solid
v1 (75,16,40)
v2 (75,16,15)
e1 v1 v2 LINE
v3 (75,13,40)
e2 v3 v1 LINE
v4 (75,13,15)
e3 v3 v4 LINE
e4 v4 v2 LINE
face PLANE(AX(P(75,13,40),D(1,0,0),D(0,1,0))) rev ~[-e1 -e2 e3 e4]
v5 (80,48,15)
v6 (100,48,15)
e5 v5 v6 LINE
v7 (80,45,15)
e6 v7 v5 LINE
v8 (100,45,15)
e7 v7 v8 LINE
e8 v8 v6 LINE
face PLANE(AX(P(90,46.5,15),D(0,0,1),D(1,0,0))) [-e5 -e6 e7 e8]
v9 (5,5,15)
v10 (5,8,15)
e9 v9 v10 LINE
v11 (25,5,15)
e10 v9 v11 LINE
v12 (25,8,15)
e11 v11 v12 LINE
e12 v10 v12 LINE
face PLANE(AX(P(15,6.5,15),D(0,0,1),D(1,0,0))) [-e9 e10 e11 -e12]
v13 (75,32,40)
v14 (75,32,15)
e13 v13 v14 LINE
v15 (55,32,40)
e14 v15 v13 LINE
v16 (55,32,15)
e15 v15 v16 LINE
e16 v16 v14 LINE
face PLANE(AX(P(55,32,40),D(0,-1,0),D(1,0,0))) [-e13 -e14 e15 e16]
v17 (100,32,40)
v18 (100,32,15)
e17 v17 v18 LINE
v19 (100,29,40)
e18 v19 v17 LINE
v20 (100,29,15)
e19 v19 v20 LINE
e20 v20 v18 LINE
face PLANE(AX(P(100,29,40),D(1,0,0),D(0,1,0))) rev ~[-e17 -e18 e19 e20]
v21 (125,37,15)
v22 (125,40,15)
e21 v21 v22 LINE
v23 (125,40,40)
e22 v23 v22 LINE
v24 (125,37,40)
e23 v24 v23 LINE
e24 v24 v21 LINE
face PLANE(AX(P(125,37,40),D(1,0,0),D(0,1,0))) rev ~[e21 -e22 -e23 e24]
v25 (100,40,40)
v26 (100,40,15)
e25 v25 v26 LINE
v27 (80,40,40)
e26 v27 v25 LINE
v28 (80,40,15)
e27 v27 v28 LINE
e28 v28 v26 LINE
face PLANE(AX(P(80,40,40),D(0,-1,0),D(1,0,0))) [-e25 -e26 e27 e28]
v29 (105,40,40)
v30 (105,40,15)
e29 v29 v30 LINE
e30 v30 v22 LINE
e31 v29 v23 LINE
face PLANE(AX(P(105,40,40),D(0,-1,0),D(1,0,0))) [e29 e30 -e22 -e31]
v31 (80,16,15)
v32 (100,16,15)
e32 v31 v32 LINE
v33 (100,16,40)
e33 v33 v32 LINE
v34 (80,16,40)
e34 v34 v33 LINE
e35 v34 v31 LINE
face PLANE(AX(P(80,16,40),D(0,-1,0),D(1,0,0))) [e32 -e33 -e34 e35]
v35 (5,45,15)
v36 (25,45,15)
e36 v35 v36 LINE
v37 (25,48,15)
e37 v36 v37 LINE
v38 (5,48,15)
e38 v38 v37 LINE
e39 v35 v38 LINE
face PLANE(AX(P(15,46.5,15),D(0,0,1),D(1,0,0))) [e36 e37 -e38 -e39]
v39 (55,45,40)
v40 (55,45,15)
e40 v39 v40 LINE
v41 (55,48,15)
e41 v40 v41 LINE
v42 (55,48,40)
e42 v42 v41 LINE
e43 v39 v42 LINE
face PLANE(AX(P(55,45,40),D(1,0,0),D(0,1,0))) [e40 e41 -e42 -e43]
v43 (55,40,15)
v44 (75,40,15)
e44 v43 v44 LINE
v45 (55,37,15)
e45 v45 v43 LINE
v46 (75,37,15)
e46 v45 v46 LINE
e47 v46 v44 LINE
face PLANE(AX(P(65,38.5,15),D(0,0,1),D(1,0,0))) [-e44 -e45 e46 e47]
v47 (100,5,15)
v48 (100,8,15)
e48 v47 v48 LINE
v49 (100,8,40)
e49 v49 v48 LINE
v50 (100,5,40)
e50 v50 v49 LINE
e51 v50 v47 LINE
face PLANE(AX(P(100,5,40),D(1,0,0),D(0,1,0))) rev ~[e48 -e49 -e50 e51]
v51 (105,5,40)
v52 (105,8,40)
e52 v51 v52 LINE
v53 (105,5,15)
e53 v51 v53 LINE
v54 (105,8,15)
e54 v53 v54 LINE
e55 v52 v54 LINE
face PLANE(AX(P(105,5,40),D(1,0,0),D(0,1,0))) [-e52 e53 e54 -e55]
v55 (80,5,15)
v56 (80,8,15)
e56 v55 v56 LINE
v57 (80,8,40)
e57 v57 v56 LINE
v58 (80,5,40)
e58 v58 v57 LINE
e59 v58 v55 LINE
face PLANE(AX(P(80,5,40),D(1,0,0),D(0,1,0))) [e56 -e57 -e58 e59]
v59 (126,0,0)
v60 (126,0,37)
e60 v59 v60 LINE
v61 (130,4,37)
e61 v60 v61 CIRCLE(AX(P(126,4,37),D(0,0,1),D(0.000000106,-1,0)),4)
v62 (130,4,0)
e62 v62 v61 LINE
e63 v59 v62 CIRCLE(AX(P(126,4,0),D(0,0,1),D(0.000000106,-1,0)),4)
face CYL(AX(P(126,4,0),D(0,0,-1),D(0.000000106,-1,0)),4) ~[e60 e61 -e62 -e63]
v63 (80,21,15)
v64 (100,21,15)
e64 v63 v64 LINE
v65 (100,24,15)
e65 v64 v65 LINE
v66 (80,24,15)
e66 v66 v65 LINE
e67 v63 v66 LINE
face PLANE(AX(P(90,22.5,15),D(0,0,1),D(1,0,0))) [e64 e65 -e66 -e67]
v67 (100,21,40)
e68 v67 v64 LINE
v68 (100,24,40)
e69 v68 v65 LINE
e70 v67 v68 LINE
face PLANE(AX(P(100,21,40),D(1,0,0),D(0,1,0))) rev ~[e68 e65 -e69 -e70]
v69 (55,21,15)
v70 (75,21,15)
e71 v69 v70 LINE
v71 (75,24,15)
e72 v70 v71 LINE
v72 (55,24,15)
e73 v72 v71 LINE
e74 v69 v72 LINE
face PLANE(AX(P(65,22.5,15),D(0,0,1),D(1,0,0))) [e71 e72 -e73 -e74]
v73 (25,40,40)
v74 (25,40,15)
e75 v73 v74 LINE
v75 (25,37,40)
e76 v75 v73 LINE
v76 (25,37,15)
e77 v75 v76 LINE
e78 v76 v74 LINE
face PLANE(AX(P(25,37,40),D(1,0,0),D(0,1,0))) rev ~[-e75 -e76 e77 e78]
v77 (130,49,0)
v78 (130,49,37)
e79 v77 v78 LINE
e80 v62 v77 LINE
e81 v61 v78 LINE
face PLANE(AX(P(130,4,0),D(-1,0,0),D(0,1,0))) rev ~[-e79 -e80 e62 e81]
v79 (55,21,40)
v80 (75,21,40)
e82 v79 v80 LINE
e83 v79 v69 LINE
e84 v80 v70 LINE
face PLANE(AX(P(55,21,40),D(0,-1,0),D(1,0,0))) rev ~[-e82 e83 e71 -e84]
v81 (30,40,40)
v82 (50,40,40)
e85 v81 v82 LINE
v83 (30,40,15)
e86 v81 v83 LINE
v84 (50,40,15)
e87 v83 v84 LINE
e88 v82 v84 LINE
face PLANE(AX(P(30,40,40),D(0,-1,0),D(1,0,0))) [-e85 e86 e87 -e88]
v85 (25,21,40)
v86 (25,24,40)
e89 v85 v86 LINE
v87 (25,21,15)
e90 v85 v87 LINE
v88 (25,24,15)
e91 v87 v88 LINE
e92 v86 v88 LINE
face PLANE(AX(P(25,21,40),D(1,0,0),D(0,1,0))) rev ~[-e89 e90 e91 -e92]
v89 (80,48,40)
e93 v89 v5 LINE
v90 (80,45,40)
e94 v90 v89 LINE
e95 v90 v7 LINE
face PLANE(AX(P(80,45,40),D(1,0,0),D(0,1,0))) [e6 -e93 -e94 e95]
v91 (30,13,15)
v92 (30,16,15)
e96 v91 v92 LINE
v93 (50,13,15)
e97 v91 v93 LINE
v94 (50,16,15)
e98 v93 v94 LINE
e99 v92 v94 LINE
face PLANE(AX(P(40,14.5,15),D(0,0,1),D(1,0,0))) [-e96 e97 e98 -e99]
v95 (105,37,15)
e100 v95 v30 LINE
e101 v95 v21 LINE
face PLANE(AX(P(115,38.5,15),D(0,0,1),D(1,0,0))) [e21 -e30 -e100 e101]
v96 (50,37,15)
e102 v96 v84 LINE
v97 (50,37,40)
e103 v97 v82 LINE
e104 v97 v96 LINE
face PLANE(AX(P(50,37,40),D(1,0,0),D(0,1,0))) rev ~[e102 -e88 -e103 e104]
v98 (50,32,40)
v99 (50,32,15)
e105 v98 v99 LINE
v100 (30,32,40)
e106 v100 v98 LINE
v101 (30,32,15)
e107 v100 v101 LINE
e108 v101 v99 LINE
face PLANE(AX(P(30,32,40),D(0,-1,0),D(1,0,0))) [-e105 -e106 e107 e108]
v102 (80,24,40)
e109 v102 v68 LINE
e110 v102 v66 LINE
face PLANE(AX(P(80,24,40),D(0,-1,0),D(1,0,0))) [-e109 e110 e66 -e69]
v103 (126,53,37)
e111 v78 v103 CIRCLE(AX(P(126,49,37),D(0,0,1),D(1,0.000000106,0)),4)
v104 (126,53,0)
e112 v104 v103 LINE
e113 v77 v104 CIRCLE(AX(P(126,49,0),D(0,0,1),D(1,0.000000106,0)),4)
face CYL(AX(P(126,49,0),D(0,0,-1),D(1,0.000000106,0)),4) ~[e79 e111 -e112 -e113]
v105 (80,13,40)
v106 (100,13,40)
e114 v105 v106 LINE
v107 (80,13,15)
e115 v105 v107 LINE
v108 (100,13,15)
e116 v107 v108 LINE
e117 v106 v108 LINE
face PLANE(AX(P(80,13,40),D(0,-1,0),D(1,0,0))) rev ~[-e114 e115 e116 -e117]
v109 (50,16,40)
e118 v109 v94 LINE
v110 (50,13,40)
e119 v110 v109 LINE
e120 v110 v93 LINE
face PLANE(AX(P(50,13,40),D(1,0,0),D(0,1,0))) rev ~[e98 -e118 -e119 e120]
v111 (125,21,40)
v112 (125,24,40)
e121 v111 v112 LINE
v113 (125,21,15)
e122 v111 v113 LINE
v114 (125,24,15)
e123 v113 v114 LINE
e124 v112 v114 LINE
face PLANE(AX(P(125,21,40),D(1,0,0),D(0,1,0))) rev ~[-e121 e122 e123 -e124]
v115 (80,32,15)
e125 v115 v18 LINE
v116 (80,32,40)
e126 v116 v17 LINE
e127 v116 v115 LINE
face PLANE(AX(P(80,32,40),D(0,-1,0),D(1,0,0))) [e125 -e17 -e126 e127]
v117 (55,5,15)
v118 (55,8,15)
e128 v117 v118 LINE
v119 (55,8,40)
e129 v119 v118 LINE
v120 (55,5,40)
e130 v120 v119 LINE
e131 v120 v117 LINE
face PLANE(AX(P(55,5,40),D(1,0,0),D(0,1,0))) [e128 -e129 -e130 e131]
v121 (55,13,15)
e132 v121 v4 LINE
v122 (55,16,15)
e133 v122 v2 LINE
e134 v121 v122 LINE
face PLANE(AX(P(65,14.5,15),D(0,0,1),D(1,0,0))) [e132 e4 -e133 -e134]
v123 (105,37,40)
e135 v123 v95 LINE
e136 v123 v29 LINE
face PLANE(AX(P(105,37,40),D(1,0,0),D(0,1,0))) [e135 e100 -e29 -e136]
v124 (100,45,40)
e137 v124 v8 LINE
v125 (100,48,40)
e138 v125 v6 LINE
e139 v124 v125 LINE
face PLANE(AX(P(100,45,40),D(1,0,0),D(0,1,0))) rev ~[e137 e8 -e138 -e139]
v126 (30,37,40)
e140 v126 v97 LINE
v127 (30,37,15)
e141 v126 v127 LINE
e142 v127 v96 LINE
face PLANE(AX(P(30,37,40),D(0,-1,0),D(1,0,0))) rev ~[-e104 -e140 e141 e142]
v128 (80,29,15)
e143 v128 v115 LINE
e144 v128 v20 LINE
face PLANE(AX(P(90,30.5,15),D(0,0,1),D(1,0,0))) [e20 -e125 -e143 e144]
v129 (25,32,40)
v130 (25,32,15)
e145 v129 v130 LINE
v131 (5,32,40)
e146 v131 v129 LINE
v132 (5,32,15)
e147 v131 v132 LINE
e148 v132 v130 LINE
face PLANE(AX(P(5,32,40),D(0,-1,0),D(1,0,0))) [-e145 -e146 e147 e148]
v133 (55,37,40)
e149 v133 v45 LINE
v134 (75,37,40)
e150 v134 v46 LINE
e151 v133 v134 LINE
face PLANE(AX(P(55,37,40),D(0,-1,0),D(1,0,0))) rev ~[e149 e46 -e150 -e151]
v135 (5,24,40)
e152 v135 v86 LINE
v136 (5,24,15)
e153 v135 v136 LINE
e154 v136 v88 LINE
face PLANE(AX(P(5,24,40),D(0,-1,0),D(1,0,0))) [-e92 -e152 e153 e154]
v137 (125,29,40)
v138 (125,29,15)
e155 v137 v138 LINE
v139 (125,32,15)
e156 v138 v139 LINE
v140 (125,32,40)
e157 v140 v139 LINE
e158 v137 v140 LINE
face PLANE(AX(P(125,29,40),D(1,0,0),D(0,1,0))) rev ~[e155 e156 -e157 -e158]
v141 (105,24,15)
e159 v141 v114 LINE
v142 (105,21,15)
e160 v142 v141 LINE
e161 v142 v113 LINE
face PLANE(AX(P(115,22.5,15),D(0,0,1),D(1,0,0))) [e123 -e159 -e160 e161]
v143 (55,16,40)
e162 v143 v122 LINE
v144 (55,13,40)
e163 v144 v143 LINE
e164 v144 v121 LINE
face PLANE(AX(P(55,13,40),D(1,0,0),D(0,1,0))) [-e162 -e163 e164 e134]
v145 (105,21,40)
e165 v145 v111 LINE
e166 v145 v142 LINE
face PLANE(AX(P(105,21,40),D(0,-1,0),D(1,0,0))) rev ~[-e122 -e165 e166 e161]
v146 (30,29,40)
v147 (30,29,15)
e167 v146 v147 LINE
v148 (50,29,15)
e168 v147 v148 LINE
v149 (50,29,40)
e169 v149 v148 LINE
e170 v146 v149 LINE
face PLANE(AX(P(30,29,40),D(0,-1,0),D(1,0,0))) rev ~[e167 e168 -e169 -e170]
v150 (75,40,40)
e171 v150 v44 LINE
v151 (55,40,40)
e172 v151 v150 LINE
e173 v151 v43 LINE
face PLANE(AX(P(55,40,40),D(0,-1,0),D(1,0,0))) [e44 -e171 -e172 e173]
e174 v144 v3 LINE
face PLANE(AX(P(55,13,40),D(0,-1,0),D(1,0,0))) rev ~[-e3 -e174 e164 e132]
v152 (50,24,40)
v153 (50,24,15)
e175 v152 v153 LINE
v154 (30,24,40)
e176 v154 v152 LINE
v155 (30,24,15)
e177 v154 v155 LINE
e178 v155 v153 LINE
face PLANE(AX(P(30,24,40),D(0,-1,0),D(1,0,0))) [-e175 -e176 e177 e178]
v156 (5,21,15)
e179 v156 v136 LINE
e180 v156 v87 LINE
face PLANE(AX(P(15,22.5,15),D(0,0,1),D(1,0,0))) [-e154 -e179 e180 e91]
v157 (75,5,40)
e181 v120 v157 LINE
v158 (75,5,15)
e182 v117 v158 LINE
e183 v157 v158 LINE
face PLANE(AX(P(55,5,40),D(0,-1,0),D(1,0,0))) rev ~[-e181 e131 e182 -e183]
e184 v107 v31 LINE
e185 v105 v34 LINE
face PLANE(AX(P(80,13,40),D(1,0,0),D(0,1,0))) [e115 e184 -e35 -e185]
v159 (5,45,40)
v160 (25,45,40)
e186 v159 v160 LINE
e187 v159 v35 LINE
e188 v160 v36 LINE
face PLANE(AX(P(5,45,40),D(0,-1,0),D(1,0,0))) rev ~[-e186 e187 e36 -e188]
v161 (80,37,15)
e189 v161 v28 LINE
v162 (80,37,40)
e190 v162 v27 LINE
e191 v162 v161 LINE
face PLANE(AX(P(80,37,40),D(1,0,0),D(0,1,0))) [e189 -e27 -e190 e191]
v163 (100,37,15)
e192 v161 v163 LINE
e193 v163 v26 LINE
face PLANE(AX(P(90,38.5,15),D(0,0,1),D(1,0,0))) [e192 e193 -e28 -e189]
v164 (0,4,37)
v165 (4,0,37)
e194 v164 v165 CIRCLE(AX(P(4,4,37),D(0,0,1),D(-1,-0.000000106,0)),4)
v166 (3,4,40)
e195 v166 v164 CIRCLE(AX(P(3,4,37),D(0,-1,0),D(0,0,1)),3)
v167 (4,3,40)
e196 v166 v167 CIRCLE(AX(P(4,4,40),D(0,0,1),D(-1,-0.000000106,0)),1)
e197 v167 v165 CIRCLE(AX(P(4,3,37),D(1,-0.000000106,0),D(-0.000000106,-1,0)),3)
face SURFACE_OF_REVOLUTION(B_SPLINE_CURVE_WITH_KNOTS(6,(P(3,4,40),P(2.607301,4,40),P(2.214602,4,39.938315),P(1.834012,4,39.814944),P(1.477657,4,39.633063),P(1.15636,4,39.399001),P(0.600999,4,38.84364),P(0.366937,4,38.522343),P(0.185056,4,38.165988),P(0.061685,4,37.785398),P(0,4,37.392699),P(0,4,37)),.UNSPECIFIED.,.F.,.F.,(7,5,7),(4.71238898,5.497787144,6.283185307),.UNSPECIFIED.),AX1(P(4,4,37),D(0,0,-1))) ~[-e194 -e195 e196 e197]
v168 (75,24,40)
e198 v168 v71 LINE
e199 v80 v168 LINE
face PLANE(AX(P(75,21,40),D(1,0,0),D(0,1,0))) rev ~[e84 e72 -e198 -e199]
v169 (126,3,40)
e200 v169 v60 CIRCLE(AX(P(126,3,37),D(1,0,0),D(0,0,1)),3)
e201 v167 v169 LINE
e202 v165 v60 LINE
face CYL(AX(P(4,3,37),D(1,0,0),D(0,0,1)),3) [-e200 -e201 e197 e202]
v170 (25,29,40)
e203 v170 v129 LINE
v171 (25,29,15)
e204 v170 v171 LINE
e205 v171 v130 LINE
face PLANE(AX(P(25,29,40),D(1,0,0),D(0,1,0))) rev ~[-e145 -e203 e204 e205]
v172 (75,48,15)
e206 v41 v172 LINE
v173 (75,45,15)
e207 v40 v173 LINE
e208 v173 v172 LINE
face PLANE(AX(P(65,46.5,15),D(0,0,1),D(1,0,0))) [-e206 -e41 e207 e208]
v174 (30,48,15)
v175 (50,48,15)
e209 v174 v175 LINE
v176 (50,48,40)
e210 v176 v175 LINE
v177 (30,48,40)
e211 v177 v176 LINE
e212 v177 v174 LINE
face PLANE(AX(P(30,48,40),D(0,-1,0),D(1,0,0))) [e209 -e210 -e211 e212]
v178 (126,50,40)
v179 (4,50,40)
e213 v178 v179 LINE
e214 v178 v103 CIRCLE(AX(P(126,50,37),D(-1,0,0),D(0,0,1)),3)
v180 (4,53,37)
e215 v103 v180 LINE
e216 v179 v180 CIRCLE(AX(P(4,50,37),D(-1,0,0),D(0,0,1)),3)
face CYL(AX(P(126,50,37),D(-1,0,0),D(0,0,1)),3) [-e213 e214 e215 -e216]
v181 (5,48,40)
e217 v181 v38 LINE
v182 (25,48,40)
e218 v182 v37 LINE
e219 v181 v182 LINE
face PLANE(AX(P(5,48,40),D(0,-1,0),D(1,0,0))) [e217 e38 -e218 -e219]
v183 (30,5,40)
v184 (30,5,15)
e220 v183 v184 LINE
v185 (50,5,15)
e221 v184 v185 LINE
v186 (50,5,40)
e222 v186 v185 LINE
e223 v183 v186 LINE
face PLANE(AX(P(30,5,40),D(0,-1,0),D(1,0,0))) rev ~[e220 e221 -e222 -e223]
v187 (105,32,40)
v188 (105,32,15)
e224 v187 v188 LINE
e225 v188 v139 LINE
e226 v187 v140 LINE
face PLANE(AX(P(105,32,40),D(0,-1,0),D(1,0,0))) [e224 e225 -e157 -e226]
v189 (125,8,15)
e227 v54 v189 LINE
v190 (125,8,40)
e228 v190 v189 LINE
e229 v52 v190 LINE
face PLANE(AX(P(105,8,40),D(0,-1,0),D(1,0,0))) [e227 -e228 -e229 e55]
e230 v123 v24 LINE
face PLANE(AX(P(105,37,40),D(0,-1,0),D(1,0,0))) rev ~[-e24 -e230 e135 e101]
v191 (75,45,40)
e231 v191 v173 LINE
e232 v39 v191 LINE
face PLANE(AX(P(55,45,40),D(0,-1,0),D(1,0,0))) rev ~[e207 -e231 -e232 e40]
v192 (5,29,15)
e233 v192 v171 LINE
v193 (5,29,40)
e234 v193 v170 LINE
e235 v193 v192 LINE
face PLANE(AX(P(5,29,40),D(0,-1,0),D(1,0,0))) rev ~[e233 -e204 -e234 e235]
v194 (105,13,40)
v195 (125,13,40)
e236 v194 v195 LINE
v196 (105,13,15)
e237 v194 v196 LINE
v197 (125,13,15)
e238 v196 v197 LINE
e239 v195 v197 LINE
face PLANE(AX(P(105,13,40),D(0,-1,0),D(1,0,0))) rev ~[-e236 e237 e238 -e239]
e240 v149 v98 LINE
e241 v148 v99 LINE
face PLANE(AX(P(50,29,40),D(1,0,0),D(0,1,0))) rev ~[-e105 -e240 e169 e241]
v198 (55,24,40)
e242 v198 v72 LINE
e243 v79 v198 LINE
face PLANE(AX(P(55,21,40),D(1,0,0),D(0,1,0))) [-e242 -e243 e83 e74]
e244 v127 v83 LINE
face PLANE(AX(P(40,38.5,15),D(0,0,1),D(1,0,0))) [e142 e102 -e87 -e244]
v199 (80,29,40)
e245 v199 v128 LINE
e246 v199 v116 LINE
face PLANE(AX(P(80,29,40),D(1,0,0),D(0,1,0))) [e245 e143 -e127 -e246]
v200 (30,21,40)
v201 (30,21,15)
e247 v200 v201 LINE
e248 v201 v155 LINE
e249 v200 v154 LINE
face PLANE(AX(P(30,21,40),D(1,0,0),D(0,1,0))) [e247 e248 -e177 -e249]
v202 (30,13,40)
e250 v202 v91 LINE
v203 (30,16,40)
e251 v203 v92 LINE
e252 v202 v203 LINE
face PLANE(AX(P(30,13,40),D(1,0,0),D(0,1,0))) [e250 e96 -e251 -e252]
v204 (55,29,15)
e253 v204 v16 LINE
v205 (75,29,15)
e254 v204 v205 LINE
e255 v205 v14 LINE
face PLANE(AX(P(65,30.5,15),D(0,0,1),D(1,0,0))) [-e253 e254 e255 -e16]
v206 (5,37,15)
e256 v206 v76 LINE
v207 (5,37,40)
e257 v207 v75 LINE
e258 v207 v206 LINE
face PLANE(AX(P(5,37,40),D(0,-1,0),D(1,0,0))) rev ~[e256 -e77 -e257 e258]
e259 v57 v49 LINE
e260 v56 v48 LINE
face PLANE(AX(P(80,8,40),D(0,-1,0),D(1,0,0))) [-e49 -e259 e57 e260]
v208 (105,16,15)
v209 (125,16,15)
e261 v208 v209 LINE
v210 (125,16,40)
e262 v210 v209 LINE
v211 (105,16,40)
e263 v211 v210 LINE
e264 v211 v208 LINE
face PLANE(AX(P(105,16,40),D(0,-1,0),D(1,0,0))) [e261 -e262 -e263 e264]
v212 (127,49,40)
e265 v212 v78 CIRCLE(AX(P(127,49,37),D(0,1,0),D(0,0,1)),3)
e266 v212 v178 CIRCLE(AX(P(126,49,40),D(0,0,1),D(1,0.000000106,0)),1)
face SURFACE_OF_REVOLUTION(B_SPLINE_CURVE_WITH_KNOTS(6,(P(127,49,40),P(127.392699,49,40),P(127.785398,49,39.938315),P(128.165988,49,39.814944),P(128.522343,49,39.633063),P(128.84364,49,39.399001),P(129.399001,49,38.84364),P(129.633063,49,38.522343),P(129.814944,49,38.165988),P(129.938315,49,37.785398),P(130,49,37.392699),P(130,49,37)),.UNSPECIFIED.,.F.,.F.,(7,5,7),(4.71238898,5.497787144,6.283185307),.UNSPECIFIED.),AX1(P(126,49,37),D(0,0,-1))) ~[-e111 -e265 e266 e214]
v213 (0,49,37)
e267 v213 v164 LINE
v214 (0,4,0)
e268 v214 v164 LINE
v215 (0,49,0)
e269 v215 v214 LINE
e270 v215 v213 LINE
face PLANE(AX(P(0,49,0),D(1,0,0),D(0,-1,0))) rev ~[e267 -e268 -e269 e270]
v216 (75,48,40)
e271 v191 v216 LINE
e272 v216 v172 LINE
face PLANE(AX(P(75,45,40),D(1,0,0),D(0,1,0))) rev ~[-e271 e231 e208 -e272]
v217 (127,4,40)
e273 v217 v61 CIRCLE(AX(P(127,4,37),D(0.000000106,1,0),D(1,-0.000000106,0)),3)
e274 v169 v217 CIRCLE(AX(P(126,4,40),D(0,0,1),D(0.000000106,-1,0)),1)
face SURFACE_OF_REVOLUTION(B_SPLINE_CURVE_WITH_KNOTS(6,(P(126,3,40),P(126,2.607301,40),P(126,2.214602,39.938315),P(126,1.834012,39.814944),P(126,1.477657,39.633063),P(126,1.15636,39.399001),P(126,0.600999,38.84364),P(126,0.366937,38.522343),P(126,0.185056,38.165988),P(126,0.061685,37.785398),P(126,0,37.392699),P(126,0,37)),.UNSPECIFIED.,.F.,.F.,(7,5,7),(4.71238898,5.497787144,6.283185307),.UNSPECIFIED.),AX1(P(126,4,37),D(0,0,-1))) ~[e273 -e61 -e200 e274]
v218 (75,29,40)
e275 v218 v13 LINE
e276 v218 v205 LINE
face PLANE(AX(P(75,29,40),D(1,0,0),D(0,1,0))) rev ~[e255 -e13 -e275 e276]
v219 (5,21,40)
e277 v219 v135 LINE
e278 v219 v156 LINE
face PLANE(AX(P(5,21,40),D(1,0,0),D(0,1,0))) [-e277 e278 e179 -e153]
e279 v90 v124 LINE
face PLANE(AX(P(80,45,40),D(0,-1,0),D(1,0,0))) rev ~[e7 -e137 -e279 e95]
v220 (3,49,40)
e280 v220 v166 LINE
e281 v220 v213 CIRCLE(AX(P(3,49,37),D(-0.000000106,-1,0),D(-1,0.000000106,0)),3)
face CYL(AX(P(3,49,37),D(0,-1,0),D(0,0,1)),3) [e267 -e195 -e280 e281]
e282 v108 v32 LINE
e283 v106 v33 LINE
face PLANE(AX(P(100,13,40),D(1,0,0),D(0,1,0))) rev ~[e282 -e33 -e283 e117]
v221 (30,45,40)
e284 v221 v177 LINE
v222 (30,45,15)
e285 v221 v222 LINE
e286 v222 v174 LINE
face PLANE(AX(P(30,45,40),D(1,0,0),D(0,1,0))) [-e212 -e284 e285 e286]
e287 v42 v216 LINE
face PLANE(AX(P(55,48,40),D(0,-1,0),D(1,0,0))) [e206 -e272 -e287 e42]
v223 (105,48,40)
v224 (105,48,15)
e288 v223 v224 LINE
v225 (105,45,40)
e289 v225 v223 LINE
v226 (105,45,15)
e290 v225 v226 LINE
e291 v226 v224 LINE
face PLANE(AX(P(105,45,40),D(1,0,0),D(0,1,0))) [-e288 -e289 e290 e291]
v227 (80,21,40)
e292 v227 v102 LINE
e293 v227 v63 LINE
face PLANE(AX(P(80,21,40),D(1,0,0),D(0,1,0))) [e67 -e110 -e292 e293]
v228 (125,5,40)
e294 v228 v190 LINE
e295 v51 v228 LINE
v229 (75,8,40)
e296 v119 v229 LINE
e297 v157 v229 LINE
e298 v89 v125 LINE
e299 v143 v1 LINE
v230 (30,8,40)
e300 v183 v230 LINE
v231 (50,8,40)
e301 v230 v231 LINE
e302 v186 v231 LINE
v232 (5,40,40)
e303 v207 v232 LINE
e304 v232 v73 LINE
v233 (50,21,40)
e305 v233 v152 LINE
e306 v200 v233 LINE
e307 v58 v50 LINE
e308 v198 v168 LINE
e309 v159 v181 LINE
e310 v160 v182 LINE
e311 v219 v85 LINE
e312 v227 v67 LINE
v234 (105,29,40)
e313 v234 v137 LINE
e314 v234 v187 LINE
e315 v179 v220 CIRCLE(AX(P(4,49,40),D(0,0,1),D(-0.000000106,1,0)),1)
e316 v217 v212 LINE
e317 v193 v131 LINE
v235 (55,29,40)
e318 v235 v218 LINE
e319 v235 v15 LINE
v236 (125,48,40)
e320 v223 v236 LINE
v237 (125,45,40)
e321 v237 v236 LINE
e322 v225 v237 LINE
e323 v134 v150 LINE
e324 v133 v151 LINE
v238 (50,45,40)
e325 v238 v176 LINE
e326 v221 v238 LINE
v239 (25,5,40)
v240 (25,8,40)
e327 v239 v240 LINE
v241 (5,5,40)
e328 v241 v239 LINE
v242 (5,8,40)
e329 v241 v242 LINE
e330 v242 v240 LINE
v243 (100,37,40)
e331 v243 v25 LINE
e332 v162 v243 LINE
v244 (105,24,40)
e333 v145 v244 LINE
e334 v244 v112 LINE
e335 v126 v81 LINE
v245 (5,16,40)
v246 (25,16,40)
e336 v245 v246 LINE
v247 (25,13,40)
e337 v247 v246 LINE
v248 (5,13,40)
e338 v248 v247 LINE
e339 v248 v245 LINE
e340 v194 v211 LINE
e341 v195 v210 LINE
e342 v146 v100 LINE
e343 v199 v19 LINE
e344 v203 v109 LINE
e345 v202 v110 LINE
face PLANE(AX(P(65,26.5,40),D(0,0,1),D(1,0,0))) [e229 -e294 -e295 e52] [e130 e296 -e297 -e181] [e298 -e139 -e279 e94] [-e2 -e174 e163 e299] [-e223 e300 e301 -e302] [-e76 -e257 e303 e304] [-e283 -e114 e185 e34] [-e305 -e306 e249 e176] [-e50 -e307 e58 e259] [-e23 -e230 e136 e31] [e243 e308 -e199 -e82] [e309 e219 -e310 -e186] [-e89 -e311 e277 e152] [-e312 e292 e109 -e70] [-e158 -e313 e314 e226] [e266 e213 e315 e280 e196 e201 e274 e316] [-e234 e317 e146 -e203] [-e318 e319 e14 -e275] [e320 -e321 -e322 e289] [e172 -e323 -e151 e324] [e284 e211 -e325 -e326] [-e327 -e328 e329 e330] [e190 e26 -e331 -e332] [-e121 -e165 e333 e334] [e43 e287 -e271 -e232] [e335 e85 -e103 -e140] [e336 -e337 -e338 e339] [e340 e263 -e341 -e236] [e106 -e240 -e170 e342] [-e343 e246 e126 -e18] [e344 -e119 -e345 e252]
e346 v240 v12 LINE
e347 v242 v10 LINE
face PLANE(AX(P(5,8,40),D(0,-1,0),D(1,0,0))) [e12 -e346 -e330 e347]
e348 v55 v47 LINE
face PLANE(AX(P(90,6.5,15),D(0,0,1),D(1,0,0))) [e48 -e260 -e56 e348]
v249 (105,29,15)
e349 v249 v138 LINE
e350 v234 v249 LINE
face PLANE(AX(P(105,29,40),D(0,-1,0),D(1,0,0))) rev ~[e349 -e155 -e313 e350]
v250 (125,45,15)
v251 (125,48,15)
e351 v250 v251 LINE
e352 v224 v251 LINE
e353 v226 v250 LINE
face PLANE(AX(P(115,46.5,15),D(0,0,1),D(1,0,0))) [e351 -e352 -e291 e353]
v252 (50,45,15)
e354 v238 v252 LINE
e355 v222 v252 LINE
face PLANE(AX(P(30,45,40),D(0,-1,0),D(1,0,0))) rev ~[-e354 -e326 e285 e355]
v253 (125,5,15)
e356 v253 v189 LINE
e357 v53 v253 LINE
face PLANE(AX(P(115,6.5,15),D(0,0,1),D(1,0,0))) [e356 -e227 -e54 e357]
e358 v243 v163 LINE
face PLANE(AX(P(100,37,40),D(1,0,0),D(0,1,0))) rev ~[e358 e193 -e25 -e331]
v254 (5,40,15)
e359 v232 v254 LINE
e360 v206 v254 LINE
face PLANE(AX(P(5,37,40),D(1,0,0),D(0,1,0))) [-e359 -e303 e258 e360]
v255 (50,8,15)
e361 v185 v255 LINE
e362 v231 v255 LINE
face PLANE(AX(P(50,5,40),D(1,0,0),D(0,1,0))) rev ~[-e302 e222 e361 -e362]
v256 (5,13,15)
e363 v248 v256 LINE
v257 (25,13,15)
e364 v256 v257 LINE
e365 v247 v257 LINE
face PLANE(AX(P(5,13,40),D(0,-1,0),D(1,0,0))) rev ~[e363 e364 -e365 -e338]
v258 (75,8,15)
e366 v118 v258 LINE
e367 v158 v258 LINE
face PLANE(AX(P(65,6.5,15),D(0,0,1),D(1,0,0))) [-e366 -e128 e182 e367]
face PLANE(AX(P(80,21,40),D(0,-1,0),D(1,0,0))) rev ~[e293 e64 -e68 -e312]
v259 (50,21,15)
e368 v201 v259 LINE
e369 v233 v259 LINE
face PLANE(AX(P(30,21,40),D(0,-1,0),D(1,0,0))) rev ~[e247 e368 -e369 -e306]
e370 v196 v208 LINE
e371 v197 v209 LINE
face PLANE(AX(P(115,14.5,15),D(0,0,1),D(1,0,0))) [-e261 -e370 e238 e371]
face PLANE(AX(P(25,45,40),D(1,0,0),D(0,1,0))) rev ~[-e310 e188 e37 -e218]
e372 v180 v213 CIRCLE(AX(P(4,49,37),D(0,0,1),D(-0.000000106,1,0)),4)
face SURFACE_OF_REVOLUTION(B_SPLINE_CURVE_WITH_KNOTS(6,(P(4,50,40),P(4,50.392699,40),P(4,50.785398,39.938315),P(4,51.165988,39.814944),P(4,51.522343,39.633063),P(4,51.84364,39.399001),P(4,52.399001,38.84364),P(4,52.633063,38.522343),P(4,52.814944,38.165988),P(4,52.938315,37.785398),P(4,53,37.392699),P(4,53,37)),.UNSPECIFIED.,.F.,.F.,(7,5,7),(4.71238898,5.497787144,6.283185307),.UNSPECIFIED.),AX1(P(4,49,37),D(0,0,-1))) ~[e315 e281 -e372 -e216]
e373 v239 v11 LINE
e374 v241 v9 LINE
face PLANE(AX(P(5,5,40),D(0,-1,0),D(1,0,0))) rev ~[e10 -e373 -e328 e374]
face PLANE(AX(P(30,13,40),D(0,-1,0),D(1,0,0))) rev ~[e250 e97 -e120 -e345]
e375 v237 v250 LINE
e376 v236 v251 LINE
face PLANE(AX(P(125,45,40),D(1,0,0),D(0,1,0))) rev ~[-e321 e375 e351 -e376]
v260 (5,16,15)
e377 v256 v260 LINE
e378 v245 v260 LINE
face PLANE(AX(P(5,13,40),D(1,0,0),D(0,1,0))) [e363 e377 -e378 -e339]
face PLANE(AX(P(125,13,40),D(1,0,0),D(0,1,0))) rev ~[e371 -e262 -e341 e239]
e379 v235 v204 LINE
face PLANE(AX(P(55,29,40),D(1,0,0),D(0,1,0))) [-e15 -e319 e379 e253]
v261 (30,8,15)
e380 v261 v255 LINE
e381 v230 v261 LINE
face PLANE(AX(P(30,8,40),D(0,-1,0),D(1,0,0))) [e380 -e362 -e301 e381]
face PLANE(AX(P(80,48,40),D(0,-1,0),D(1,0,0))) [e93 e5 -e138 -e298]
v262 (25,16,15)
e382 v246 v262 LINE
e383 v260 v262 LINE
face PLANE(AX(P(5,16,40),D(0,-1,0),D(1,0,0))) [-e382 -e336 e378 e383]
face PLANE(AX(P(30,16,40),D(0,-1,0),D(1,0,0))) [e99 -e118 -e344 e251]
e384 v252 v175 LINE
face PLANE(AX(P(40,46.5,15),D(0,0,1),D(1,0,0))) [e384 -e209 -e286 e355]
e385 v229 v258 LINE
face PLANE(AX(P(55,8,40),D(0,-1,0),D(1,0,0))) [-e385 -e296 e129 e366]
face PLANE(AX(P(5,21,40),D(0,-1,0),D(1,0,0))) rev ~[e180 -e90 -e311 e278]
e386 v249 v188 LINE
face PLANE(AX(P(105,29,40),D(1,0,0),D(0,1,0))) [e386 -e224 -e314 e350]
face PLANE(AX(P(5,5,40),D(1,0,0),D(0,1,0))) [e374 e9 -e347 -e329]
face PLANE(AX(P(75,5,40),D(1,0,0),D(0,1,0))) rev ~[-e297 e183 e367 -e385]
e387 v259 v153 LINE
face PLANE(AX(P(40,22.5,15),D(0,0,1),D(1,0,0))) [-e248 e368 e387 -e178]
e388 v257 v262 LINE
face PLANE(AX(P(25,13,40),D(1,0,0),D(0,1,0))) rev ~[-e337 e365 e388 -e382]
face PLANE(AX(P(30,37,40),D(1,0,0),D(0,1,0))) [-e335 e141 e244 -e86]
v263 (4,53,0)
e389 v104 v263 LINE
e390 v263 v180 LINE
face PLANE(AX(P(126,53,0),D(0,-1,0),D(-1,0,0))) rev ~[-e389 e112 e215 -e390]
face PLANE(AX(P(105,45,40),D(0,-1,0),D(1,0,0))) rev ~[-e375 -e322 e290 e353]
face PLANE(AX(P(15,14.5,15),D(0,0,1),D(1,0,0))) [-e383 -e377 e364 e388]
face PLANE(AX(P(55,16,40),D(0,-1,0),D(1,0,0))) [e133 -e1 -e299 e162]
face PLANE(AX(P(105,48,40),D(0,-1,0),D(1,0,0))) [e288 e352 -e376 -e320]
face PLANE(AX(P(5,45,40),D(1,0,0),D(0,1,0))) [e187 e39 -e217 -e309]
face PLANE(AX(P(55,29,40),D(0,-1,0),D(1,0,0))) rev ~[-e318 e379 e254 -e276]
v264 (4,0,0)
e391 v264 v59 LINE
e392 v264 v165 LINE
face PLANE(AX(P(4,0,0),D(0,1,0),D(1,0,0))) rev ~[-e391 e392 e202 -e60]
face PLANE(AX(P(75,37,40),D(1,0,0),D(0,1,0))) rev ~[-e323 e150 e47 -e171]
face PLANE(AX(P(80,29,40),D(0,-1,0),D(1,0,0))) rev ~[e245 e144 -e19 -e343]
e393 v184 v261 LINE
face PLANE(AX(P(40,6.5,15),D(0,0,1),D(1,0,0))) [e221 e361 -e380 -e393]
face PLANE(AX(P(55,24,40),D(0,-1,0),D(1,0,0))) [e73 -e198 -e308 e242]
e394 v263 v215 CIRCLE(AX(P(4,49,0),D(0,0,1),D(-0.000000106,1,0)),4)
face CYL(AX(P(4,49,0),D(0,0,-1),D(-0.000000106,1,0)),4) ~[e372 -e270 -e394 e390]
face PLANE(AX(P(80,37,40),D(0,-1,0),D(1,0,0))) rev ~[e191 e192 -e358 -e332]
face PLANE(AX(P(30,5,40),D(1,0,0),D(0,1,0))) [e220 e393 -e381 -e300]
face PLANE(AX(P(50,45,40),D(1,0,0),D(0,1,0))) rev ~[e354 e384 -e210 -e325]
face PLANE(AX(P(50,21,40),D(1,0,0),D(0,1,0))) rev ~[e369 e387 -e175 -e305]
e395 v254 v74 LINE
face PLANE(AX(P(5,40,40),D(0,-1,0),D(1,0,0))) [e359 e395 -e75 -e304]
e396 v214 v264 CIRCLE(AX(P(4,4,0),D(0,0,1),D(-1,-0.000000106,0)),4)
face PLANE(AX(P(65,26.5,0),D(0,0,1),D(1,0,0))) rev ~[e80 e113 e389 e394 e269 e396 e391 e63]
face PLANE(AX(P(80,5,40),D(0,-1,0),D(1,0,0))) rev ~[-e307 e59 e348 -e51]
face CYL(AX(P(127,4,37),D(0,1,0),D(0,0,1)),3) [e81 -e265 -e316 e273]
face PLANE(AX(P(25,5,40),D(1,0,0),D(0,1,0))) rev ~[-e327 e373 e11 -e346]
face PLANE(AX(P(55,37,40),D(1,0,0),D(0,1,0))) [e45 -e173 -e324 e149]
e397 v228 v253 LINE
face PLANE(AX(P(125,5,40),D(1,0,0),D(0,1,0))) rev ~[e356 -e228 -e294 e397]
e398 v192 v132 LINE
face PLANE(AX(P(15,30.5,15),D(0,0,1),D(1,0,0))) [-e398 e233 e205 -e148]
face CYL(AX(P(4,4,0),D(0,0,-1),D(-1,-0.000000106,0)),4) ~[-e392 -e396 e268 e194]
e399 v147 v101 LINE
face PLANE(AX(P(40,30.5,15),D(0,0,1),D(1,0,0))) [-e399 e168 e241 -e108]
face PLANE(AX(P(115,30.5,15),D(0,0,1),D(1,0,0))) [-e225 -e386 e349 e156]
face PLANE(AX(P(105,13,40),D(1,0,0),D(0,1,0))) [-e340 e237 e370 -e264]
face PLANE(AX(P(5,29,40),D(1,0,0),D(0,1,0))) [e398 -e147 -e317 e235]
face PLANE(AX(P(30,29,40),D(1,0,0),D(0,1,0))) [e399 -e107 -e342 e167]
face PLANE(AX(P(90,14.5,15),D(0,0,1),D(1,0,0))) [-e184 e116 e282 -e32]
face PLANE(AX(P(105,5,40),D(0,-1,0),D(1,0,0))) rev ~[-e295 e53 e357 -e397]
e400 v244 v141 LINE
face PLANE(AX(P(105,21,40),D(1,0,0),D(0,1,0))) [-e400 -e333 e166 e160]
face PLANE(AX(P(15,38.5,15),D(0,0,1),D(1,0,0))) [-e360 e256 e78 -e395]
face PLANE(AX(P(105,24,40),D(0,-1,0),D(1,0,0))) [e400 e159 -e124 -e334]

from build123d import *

# Parameters (mm, degrees)
F1_DEPTH = 40
F2_W     = 20
F2_H     = 3
F3_DEPTH = 25
F4_R     = 3


with BuildPart() as f1:
    # F0 (on Top) → F1 (new body)
    with BuildSketch(Plane.XY):
        with BuildLine():
            ThreePointArc((0, 4), (1.171573, 1.171573), (4, 0))
            Line((4, 0), (126, 0))
            ThreePointArc((126, 0), (128.828427, 1.171573), (130, 4))
            Line((130, 4), (130, 49))
            ThreePointArc((130, 49), (128.828427, 51.828427), (126, 53))
            Line((126, 53), (4, 53))
            ThreePointArc((4, 53), (1.171573, 51.828427), (0, 49))
            Line((0, 49), (0, 4))
        make_face()
    extrude(amount=F1_DEPTH)

    # F2 (on face) → F3 (cut)
    with BuildSketch(Plane.XY.offset(40)):
        with Locations((15, 46.5)):
            Rectangle(F2_W, F2_H)
        with Locations((15, 38.5)):
            Rectangle(F2_W, F2_H)
        with Locations((15, 30.5)):
            Rectangle(F2_W, F2_H)
        with Locations((15, 22.5)):
            Rectangle(F2_W, F2_H)
        with Locations((15, 14.5)):
            Rectangle(F2_W, F2_H)
        with Locations((15, 6.5)):
            Rectangle(F2_W, F2_H)
        with Locations((40, 46.5)):
            Rectangle(F2_W, F2_H)
        with Locations((40, 38.5)):
            Rectangle(F2_W, F2_H)
        with Locations((40, 30.5)):
            Rectangle(F2_W, F2_H)
        with Locations((40, 22.5)):
            Rectangle(F2_W, F2_H)
        with Locations((40, 14.5)):
            Rectangle(F2_W, F2_H)
        with Locations((40, 6.5)):
            Rectangle(F2_W, F2_H)
        with Locations((65, 46.5)):
            Rectangle(F2_W, F2_H)
        with Locations((65, 38.5)):
            Rectangle(F2_W, F2_H)
        with Locations((65, 30.5)):
            Rectangle(F2_W, F2_H)
        with Locations((65, 22.5)):
            Rectangle(F2_W, F2_H)
        with Locations((65, 14.5)):
            Rectangle(F2_W, F2_H)
        with Locations((65, 6.5)):
            Rectangle(F2_W, F2_H)
        with Locations((90, 46.5)):
            Rectangle(F2_W, F2_H)
        with Locations((90, 38.5)):
            Rectangle(F2_W, F2_H)
        with Locations((90, 30.5)):
            Rectangle(F2_W, F2_H)
        with Locations((90, 22.5)):
            Rectangle(F2_W, F2_H)
        with Locations((90, 14.5)):
            Rectangle(F2_W, F2_H)
        with Locations((90, 6.5)):
            Rectangle(F2_W, F2_H)
        with Locations((115, 46.5)):
            Rectangle(F2_W, F2_H)
        with Locations((115, 38.5)):
            Rectangle(F2_W, F2_H)
        with Locations((115, 30.5)):
            Rectangle(F2_W, F2_H)
        with Locations((115, 22.5)):
            Rectangle(F2_W, F2_H)
        with Locations((115, 14.5)):
            Rectangle(F2_W, F2_H)
        with Locations((115, 6.5)):
            Rectangle(F2_W, F2_H)
    extrude(amount=-F3_DEPTH, mode=Mode.SUBTRACT)

    # F4
    f4_edges = [f1.edges().sort_by_distance(p)[0] for p in [
        (65, 53, 40),
        (1.171573, 51.828427, 40),
    ]]
    fillet(f4_edges, radius=F4_R)


solid = f1.part
